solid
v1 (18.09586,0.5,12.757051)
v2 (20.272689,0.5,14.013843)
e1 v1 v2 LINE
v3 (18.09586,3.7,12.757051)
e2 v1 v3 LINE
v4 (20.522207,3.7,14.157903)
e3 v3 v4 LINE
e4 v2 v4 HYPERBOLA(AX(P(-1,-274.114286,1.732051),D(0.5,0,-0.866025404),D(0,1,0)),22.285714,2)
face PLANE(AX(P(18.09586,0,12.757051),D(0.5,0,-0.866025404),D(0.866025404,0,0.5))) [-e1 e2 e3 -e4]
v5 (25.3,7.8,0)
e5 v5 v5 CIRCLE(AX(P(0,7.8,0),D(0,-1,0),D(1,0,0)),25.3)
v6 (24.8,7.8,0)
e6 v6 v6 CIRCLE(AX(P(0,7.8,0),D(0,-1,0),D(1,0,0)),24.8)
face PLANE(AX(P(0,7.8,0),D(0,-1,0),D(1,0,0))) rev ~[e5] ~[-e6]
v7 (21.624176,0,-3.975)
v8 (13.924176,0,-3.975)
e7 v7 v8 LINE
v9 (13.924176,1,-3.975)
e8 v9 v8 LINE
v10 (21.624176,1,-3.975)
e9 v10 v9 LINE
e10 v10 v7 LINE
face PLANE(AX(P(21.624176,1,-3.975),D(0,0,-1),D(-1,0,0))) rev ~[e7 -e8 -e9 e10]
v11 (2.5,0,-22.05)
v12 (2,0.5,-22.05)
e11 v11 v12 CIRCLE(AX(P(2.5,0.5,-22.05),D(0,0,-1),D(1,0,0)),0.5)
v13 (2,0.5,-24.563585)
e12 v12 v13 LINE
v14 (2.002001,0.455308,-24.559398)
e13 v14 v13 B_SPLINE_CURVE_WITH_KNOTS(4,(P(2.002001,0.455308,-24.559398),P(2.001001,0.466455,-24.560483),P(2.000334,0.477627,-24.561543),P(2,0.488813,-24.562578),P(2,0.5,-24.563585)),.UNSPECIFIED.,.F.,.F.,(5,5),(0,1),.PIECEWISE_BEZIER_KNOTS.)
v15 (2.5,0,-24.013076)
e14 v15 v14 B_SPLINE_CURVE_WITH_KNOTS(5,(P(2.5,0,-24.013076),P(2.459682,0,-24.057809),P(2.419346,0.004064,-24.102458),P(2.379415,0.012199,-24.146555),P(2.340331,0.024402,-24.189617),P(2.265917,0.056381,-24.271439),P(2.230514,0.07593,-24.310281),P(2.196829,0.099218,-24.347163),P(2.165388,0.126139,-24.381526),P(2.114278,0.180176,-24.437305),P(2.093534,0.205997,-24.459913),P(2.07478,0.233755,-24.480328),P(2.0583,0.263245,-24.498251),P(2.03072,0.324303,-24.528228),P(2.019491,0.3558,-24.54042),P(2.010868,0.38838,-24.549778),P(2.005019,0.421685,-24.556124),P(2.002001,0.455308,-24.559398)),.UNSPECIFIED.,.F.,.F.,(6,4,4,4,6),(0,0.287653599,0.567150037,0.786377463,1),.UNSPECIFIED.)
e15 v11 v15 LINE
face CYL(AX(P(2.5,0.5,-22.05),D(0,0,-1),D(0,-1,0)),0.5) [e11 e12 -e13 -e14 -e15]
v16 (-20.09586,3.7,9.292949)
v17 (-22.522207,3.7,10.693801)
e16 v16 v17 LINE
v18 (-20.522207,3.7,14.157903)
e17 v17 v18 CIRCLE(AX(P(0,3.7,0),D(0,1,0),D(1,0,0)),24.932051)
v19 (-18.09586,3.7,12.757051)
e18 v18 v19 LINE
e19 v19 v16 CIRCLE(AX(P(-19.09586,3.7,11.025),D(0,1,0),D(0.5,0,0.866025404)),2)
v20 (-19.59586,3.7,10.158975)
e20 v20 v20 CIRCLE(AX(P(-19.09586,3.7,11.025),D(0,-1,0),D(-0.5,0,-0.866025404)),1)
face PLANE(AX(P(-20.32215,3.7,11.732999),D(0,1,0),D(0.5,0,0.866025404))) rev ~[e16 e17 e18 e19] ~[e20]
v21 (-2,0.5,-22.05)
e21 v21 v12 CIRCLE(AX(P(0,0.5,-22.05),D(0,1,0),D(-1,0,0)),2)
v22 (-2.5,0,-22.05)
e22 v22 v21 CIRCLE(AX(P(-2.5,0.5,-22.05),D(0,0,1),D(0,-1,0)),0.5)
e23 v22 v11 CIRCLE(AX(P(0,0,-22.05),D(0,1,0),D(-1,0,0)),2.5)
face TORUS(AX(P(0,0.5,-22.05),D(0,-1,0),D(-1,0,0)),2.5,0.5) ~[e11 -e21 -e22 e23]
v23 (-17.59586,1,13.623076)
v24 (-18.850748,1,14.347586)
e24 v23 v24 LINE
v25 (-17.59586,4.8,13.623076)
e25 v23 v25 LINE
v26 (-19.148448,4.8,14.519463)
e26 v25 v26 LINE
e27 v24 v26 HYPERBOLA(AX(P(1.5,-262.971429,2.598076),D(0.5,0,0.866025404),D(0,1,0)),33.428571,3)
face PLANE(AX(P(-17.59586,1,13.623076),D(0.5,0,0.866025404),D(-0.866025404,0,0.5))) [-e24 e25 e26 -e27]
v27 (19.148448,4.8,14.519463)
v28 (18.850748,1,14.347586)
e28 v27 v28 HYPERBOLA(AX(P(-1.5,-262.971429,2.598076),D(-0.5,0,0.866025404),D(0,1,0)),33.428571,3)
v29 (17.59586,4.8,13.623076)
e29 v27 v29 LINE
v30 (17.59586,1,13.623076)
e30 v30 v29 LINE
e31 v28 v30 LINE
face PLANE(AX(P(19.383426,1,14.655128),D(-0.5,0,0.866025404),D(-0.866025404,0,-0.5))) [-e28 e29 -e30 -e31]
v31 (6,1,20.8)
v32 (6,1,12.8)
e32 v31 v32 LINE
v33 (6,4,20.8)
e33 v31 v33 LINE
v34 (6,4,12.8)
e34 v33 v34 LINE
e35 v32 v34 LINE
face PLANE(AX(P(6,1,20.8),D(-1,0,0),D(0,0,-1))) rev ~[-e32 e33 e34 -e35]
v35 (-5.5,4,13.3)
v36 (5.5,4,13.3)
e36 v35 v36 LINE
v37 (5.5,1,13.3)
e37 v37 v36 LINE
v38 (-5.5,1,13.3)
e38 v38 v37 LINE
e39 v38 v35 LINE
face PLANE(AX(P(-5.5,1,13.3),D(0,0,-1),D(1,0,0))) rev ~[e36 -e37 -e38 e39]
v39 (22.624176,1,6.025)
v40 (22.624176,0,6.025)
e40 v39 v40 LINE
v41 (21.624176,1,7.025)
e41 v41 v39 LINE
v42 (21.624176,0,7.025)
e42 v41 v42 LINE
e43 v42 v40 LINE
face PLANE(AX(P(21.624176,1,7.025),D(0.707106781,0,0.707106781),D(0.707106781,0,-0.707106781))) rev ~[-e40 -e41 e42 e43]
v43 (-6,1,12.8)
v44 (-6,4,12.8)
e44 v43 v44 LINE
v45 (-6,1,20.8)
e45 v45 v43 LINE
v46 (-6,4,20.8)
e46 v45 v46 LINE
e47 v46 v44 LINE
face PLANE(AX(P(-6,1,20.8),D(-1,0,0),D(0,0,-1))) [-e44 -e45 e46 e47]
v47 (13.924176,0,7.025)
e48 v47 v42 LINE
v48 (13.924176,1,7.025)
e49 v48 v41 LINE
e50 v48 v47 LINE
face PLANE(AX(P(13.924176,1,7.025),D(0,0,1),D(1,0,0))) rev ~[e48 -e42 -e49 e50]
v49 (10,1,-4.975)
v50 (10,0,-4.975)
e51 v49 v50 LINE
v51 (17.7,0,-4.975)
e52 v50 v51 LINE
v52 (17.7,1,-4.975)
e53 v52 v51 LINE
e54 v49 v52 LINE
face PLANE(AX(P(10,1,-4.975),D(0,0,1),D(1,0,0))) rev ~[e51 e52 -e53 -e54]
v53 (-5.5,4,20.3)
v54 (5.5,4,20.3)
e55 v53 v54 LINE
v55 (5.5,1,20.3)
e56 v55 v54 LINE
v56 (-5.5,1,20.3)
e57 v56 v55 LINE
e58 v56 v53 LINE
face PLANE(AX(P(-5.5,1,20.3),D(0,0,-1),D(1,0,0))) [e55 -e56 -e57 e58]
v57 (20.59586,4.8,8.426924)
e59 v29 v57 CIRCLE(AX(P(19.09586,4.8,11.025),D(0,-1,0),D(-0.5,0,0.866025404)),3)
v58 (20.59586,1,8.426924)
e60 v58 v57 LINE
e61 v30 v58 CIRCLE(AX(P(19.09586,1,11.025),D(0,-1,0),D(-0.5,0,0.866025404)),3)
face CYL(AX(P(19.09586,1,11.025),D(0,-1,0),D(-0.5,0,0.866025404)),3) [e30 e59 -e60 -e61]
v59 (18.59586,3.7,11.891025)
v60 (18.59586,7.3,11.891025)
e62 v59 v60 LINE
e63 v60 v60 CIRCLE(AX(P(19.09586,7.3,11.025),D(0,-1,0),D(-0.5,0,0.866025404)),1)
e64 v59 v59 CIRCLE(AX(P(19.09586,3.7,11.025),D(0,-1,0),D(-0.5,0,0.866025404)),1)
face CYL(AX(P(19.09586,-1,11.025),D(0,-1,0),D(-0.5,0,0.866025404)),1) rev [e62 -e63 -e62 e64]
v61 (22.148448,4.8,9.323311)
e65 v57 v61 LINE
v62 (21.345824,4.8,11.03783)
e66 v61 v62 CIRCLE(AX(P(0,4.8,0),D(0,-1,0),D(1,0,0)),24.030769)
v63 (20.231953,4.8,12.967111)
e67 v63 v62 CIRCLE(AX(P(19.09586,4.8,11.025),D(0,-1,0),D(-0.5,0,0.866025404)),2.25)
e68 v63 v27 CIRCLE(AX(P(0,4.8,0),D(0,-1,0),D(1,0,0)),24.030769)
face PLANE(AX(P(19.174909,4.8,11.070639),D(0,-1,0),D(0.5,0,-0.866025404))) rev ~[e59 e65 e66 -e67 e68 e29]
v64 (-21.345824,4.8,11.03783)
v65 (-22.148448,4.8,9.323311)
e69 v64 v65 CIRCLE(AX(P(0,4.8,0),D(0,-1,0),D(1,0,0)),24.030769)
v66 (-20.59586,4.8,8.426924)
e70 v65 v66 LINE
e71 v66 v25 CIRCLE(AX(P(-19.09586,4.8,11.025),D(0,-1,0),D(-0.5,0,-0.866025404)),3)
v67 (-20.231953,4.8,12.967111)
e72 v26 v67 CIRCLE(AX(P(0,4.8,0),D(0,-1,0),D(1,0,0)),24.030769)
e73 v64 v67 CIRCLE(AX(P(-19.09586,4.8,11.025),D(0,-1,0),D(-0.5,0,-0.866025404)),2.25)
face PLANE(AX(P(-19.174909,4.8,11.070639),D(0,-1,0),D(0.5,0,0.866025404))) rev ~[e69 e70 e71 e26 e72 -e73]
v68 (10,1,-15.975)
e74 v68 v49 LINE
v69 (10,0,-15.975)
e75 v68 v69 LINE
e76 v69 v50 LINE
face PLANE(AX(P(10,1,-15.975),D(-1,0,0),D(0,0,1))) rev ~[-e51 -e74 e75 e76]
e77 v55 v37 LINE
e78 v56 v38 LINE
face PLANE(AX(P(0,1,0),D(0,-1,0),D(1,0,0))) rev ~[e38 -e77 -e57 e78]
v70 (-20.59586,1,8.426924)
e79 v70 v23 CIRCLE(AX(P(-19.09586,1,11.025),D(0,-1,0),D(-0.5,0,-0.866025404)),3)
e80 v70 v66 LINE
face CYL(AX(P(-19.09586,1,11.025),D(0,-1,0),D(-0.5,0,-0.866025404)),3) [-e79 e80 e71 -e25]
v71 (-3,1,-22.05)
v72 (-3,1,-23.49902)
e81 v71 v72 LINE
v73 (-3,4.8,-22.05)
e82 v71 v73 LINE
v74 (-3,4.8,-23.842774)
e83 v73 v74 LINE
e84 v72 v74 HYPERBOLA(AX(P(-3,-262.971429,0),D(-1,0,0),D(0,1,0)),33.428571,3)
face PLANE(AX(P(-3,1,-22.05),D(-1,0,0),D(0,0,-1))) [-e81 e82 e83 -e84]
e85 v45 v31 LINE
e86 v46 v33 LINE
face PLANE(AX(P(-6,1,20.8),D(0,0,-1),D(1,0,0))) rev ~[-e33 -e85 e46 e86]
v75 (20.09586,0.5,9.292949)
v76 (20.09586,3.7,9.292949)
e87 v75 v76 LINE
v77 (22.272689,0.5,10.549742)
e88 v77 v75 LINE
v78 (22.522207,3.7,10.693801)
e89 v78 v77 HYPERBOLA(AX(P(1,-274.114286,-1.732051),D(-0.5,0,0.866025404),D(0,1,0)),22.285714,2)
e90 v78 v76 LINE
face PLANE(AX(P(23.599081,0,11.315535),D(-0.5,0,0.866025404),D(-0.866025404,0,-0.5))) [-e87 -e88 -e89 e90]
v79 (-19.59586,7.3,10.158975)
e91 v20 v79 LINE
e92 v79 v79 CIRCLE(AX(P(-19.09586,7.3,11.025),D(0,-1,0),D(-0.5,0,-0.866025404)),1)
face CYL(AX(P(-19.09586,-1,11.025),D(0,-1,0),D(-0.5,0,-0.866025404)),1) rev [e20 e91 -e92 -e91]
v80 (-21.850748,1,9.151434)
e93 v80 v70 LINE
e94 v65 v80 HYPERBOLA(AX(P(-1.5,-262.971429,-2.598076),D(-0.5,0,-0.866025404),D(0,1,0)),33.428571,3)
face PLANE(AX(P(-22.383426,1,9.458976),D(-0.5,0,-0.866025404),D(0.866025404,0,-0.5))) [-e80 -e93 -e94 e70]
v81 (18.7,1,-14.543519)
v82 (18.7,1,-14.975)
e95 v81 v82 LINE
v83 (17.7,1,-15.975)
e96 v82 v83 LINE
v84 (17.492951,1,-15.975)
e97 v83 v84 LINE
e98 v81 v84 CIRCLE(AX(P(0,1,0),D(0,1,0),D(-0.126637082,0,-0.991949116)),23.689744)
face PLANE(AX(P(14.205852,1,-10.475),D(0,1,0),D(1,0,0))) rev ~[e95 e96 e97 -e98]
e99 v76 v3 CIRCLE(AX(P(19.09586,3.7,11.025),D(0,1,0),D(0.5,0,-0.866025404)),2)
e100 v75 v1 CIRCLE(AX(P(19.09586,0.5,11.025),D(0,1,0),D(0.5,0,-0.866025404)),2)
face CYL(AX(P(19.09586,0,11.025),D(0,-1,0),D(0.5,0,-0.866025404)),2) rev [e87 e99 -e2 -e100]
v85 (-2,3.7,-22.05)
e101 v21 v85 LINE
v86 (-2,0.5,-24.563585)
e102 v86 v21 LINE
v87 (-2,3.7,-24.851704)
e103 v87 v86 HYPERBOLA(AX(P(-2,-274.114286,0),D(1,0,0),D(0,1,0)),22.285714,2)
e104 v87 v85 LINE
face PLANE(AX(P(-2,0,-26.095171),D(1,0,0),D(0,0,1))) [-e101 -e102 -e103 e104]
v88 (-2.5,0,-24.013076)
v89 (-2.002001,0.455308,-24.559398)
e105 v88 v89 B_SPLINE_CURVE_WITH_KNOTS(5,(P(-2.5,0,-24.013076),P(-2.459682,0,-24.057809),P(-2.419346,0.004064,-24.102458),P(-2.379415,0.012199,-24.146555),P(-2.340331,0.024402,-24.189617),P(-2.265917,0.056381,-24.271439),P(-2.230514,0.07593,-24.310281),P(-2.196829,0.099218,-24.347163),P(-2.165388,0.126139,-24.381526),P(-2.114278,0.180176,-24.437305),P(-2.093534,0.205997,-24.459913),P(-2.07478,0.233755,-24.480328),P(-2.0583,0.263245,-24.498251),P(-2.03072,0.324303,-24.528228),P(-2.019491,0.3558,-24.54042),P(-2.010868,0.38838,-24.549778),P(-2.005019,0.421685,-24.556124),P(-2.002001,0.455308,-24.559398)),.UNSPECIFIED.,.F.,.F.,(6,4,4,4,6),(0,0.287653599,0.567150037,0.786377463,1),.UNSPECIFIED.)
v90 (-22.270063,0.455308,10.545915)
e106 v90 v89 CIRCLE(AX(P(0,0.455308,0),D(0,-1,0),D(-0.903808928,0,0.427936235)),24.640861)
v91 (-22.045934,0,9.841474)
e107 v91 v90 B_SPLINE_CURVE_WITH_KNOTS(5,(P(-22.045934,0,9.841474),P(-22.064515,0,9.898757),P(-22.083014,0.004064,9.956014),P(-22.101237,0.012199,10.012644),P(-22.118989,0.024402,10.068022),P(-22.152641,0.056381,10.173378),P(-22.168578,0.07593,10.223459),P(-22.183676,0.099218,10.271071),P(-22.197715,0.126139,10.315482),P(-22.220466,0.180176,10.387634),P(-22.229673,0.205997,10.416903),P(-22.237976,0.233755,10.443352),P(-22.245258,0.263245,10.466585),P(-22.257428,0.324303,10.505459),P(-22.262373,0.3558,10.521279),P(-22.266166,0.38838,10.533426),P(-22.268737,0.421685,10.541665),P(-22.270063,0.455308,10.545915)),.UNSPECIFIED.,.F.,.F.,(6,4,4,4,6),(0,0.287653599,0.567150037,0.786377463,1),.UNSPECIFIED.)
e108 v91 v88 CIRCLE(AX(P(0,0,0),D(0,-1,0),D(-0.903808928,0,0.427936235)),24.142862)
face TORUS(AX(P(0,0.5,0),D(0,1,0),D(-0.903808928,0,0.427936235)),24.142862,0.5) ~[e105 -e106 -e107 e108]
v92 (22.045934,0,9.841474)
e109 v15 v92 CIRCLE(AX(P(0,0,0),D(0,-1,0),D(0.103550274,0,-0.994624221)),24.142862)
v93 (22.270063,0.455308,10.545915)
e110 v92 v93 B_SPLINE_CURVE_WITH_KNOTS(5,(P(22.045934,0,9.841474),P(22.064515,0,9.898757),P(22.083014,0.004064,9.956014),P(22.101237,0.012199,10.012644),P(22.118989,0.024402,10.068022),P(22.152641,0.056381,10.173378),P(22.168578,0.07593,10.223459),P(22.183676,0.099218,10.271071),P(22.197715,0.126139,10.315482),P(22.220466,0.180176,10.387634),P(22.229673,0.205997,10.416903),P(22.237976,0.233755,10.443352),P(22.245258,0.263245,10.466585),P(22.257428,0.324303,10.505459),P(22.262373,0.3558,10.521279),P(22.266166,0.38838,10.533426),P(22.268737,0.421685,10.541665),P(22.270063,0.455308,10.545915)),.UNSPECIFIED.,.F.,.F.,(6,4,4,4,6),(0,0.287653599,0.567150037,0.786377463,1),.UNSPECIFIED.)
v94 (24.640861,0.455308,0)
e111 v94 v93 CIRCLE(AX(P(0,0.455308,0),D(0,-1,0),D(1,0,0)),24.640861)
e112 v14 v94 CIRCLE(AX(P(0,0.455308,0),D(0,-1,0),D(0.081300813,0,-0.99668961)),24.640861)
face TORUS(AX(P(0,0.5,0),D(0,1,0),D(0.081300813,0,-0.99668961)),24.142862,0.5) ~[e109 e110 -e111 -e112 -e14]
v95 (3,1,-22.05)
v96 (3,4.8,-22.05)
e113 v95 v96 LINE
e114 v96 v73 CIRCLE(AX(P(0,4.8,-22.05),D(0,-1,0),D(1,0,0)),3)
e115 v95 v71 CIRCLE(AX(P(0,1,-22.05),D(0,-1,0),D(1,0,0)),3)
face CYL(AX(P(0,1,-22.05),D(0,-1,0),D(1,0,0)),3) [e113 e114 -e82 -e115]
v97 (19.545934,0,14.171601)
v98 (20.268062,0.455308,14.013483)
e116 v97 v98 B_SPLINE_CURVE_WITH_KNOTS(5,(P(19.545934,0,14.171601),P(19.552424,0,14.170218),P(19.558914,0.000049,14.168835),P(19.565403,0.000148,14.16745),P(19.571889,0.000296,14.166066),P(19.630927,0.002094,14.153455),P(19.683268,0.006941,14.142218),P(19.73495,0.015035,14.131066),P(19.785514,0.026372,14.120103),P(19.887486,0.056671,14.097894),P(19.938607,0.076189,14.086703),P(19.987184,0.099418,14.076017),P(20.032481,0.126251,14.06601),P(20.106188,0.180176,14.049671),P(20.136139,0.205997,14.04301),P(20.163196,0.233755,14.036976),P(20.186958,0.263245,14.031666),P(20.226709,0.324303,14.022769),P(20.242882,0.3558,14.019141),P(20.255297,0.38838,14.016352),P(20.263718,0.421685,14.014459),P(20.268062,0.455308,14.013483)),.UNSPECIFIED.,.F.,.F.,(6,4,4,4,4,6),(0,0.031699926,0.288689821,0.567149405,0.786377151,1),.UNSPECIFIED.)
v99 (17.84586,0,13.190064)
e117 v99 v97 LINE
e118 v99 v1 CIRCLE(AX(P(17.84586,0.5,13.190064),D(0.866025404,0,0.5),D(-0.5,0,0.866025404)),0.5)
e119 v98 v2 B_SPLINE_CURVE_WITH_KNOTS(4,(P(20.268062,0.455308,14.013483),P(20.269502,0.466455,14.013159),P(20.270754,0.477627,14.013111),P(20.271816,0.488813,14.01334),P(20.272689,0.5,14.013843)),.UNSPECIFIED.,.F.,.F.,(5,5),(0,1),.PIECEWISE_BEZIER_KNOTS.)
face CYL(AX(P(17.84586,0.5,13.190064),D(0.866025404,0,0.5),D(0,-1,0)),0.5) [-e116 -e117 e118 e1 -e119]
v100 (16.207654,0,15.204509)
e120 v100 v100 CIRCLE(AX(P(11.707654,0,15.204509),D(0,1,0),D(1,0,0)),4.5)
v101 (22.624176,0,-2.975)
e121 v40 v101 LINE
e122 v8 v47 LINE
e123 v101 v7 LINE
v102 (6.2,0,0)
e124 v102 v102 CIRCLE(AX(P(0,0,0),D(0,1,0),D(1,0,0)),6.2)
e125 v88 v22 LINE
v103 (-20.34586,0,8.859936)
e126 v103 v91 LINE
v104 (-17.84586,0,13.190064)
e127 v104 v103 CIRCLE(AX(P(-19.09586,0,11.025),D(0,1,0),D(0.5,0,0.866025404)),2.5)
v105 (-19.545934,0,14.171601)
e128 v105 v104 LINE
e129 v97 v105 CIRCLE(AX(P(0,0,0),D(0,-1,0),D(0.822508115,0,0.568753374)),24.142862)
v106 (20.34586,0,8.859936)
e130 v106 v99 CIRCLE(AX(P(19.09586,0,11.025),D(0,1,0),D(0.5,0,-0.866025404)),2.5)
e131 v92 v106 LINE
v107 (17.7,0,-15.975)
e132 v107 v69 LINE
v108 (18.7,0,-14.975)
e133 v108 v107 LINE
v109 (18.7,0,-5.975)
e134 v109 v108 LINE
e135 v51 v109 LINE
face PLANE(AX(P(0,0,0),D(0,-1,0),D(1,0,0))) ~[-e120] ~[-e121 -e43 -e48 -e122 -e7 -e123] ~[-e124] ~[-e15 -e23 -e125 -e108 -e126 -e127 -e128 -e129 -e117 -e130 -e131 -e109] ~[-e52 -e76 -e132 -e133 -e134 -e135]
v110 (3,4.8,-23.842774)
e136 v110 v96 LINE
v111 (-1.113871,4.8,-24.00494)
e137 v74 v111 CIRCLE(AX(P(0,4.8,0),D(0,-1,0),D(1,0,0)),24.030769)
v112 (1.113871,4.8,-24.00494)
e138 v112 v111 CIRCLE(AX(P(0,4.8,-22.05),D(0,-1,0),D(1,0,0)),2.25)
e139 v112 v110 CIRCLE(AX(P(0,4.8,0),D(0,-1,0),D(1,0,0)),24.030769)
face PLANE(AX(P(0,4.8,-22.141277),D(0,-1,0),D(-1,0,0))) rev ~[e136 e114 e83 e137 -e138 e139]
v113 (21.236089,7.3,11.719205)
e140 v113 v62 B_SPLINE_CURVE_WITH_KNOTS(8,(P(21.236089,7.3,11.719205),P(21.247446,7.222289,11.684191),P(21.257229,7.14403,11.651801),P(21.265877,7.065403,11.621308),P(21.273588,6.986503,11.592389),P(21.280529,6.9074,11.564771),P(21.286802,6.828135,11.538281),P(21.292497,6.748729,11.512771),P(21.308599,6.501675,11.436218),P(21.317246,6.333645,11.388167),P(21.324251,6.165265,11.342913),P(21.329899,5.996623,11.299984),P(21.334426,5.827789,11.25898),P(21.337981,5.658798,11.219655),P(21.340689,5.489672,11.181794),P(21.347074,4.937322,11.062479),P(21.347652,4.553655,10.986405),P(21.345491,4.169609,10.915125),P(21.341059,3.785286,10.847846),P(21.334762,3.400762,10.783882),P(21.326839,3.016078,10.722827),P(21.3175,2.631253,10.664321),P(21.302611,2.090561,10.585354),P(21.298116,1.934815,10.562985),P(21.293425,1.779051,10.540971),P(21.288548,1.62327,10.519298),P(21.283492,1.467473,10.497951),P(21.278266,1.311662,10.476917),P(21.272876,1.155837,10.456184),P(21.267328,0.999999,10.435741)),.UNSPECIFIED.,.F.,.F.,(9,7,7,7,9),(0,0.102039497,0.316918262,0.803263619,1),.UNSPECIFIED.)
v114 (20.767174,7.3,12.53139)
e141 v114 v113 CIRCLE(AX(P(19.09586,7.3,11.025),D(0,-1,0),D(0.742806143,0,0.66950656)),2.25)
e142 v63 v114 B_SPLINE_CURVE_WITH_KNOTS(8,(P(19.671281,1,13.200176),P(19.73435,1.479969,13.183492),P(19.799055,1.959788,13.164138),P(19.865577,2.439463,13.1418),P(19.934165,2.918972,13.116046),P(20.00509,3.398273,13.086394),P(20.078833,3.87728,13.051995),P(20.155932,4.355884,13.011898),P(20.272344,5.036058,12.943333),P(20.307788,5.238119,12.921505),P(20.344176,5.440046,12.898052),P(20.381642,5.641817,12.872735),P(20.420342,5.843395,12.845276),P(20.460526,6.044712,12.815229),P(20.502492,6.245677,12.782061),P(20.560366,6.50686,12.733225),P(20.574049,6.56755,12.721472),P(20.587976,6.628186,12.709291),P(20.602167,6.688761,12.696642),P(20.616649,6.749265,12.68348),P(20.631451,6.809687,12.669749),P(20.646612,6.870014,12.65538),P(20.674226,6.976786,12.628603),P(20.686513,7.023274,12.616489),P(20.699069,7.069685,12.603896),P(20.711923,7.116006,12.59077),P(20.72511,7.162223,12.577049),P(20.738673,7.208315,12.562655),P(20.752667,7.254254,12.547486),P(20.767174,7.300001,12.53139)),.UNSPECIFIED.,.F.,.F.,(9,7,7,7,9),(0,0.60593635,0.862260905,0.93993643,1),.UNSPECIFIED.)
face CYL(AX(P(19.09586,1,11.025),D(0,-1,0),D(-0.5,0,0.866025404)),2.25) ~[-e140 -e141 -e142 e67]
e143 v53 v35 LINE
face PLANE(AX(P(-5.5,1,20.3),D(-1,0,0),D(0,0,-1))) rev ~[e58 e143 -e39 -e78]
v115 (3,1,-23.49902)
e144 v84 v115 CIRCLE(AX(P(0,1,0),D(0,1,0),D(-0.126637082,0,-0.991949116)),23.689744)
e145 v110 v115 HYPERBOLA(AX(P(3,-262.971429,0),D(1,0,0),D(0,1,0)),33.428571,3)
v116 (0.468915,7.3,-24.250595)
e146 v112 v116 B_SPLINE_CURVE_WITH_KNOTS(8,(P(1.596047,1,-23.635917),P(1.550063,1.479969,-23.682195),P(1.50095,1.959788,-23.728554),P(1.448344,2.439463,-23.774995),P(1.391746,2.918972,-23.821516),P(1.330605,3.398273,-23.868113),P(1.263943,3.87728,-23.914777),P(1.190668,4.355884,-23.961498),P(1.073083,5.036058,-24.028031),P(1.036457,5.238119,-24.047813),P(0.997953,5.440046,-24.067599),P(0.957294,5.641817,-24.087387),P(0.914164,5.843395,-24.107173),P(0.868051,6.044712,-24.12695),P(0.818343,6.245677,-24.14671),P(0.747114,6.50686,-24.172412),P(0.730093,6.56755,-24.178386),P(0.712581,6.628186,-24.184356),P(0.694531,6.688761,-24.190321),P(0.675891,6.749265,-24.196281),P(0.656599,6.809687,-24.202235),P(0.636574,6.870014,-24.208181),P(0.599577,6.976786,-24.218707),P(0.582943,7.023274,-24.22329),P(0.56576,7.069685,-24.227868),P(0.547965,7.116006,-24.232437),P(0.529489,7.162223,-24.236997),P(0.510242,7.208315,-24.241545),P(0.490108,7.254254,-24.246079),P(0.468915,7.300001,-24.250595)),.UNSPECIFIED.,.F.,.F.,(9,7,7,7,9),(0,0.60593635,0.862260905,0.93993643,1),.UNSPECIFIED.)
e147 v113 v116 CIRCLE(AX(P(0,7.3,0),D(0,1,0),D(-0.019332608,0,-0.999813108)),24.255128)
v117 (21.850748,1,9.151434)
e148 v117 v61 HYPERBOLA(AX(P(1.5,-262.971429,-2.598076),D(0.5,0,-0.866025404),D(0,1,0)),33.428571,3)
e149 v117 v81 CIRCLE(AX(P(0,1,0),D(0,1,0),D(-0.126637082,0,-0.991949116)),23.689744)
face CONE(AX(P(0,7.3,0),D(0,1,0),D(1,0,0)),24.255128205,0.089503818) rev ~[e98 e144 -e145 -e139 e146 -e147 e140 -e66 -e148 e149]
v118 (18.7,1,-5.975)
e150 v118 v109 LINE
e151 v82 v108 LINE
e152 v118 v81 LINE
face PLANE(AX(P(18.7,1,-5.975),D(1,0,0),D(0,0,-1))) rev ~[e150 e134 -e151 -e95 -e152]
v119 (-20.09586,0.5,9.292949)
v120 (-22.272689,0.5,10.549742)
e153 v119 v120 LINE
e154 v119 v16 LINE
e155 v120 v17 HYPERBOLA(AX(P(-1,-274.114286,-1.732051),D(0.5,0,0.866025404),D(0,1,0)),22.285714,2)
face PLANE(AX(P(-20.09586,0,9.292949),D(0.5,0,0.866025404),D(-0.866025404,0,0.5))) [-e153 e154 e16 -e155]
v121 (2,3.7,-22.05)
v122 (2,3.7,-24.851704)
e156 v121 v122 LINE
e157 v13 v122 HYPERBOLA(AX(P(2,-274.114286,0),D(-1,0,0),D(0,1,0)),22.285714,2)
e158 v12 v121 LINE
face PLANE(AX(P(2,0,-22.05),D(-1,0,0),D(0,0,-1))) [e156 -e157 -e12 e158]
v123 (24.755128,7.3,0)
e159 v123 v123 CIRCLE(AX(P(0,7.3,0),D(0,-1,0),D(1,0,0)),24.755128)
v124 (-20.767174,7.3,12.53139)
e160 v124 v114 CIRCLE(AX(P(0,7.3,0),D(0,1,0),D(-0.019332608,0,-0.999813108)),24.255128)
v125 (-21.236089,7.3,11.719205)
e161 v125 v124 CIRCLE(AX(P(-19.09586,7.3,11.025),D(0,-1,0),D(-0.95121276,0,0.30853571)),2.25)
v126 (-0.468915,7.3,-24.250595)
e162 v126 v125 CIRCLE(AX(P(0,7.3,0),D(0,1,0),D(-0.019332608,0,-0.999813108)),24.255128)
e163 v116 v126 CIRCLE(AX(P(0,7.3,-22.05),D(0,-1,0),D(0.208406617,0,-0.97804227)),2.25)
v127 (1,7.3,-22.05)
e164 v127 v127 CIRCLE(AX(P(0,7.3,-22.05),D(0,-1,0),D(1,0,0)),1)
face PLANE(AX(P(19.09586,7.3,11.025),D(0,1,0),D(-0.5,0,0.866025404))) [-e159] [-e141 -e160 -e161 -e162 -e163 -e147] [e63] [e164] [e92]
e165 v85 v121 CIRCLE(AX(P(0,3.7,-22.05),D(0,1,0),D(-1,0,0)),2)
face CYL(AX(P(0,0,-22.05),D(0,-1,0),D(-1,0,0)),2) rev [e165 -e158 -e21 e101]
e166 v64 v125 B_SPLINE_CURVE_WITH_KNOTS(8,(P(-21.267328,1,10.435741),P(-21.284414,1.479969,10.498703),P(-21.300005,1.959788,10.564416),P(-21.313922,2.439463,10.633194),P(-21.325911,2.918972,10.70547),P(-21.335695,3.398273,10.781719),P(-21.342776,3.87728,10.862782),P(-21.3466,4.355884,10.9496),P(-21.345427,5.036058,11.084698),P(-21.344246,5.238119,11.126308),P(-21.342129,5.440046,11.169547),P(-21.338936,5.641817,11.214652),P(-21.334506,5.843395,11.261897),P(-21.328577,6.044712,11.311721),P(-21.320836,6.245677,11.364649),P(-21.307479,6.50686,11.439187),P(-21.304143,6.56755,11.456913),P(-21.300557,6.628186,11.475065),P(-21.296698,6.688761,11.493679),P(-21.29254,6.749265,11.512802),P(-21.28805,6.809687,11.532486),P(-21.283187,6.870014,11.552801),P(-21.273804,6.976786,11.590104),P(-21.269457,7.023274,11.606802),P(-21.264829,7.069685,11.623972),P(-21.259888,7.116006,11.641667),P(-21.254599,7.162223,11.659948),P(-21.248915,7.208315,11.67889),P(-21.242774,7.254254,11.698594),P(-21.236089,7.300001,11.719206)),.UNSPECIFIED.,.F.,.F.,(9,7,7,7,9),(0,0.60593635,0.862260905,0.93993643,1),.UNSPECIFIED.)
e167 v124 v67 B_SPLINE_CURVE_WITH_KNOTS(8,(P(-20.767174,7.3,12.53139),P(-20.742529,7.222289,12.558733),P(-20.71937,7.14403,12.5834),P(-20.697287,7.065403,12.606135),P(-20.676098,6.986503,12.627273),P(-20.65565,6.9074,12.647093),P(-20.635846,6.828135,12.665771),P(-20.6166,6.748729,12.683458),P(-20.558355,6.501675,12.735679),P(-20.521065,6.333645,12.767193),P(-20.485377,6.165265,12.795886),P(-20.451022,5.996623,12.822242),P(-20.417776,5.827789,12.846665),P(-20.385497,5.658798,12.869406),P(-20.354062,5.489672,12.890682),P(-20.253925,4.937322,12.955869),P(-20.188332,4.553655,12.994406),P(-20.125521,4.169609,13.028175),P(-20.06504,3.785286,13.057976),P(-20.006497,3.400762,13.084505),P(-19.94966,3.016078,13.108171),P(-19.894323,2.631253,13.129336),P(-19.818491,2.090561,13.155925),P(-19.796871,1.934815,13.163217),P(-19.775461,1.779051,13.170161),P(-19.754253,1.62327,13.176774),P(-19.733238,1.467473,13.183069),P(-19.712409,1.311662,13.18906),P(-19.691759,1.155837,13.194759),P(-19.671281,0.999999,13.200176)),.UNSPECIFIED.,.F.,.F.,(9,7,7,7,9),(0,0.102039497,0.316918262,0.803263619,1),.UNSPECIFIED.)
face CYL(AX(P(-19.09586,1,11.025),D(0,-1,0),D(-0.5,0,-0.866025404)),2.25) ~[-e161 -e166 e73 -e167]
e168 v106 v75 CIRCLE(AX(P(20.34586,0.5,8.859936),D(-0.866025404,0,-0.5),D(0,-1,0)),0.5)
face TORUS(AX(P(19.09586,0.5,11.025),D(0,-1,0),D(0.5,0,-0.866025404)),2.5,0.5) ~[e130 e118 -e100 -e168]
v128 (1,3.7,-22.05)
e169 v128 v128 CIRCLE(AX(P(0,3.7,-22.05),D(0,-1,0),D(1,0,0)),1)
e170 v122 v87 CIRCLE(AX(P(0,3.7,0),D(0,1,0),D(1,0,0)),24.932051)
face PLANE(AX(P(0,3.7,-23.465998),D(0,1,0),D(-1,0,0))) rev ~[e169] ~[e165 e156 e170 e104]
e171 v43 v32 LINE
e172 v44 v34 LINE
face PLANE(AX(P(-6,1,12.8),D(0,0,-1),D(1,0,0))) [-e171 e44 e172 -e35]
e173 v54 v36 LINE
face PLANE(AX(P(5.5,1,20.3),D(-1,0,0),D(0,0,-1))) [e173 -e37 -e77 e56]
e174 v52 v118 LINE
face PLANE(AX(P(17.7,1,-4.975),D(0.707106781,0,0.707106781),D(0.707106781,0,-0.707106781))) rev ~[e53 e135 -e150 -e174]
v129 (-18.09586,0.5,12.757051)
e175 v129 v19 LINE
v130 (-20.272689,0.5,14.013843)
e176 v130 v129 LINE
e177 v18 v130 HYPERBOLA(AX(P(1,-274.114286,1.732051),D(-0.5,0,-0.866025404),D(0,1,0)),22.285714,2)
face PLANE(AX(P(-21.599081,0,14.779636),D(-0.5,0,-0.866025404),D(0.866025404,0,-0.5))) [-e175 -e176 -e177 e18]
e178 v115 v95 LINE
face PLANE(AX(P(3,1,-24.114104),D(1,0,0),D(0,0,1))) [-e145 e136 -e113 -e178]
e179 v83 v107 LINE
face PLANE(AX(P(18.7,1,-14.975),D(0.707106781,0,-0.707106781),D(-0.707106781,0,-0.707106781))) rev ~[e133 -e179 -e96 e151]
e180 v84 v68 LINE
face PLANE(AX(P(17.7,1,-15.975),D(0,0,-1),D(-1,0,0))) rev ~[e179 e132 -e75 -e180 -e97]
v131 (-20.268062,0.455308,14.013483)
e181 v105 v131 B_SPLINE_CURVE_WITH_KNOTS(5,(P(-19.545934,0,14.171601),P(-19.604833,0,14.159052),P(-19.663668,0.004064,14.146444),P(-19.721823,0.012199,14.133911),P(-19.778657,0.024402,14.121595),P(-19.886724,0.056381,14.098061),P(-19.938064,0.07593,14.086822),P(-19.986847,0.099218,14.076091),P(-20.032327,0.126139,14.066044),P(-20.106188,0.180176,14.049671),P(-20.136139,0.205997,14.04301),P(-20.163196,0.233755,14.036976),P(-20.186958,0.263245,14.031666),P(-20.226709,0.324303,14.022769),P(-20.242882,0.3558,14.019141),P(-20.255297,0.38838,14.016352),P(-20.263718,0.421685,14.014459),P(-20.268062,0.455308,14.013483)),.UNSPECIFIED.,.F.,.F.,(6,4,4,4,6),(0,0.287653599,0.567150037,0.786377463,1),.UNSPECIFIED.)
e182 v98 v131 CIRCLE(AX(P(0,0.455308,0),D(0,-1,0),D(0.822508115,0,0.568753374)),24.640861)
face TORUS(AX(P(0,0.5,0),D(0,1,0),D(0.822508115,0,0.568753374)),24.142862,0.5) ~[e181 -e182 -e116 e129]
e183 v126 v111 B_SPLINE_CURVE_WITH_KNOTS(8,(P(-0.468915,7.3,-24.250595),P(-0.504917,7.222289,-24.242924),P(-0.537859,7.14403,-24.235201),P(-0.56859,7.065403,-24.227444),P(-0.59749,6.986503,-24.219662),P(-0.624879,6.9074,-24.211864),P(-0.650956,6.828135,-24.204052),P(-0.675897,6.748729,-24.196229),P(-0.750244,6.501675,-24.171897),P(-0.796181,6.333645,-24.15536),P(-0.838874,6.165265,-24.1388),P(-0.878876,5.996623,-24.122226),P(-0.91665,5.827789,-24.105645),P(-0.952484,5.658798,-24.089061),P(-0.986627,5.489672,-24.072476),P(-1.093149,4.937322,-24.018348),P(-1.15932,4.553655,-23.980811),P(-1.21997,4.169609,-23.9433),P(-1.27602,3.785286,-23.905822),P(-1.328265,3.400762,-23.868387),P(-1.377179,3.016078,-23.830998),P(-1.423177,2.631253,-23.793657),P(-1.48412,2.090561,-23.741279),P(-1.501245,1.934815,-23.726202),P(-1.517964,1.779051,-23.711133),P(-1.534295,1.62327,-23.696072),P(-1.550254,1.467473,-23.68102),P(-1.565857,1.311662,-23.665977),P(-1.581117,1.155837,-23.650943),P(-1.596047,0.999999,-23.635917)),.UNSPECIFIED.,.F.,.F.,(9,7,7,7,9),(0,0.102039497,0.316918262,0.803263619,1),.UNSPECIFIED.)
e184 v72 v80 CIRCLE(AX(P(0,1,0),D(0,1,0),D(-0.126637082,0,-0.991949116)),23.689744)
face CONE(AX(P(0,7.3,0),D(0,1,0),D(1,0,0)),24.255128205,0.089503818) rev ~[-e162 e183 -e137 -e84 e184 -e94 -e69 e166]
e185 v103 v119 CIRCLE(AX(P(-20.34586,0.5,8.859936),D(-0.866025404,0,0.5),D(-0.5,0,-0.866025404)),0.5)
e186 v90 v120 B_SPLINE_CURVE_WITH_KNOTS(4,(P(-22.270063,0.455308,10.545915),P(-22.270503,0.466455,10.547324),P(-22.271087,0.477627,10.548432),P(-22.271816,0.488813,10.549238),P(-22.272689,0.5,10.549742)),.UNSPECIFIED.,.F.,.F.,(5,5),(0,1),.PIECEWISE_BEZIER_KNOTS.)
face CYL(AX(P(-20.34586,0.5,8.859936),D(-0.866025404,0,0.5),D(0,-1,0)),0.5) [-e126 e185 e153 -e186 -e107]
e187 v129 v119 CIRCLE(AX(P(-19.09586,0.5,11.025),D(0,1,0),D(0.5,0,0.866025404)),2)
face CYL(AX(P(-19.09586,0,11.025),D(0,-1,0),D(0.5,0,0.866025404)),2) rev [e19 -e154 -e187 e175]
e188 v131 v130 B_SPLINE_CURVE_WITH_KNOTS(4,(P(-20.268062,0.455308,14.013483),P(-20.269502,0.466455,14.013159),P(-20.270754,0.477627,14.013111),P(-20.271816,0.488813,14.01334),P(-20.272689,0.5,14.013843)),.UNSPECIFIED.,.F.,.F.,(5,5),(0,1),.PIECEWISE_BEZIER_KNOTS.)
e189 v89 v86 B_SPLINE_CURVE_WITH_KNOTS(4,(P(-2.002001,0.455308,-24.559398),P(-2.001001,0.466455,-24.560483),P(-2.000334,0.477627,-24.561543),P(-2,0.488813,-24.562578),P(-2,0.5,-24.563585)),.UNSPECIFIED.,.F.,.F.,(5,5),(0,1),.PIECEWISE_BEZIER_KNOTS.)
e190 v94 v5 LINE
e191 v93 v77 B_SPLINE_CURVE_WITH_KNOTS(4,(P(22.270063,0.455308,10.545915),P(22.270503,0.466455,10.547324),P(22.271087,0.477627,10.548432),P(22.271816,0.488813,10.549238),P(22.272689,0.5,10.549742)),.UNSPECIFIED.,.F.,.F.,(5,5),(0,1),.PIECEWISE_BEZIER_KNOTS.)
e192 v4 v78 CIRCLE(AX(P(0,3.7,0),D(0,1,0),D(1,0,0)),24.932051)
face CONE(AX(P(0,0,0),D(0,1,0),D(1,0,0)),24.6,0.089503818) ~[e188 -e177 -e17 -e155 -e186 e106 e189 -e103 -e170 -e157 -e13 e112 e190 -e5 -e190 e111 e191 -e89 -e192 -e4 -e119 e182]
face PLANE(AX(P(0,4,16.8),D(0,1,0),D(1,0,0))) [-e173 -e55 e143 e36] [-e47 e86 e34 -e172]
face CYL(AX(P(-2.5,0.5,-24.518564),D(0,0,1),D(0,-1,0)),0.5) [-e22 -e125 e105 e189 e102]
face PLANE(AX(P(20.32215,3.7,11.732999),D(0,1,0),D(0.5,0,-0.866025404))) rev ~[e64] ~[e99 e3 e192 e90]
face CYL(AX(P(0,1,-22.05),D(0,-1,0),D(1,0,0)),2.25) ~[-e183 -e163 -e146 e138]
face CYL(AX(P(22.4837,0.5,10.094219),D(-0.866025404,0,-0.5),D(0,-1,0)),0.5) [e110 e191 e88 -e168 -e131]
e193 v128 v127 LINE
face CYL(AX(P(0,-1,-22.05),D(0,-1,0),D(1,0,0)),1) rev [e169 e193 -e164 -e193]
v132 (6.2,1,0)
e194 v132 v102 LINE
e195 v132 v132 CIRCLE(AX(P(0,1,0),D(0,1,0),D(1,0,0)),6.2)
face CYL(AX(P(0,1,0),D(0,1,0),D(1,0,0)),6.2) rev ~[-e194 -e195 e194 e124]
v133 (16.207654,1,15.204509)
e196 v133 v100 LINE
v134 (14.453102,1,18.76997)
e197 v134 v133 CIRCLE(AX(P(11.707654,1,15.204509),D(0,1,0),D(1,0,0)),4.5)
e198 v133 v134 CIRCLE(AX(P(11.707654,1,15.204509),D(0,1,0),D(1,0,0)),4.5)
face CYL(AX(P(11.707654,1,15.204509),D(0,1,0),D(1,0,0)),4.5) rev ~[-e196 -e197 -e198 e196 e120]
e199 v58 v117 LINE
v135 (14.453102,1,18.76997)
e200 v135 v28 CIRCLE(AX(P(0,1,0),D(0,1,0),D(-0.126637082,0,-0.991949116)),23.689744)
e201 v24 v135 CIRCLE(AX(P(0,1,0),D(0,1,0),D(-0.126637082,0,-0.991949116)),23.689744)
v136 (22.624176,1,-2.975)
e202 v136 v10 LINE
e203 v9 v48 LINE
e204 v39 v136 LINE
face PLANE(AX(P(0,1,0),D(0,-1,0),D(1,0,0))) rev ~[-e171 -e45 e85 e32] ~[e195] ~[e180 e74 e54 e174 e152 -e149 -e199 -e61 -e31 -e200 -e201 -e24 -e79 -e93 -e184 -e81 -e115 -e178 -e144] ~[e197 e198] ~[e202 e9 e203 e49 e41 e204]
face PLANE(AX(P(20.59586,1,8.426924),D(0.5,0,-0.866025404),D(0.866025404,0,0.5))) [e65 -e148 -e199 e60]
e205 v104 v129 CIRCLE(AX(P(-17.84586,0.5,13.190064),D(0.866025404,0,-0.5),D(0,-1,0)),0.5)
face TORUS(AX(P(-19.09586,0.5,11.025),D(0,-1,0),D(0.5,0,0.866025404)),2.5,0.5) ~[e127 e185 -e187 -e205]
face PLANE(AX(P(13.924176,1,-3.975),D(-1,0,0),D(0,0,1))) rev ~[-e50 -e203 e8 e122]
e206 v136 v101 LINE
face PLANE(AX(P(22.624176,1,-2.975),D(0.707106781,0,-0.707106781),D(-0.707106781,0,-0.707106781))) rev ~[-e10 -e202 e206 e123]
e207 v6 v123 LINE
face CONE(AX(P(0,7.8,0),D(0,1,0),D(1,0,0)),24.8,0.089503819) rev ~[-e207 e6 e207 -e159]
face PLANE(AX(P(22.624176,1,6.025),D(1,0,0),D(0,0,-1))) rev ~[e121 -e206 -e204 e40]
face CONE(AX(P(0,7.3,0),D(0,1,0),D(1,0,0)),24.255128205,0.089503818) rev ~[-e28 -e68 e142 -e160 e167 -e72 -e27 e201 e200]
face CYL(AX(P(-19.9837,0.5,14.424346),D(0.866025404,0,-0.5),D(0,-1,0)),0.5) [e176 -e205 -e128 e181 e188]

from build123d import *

# Parameters (mm, degrees)
SKETCH_8_R               = 2.25
EXTRUDE_23_DEPTH         = 6.3
EXTRUDE_24_DEPTH         = 3.8
CUT_EXTRUDE_START        = -2
SKETCH_8_5_R             = 1
CUT_EXTRUDE_2_DEPTH      = 9.8
PATTERN_CIRCULAR_1_COUNT = 3
CUT_EXTRUDE_3_DEPTH      = 3.7
PATTERN_CIRCULAR_2_COUNT = 3
CUT_EXTRUDE_6_DEPTH      = 1
SKETCH_12_W              = 12
SKETCH_12_H              = 8
SKETCH_12_W_2            = 11
SKETCH_12_H_2            = 7
EXTRUDE_1_DEPTH          = 3
SKETCH_14_R              = 6.2
SKETCH_14_R_2            = 4.5
CUT_EXTRUDE_7_DEPTH      = 1
FILLET_1_R               = 0.5


with BuildPart() as part:
    # 草图7 → 旋转1 (revolve)
    with BuildSketch(Plane.XY):
        Polygon((0, 0), (24.6, 0), (25.3, 7.8), (24.8, 7.8), (24.755128205, 7.3), (24.255128205, 7.3), (23.68974359, 1), (0, 1), align=None)
    revolve(axis=Axis((0, 1, 0), (0, -1, 0)))

    # 草图8 → 凸台-拉伸23 (add)
    with BuildSketch(Plane(origin=(0, 1, 0), x_dir=(1, 0, 0), z_dir=(0, 1, 0))):
        with Locations((0, 22.05)):
            Circle(SKETCH_8_R)
    extrude_23 = extrude(amount=EXTRUDE_23_DEPTH)

    # 草图8<4> → 凸台-拉伸24 (add)
    with BuildSketch(Plane(origin=(0, 1, 0), x_dir=(1, 0, 0), z_dir=(0, 1, 0))):
        with BuildLine():
            Line((-3, 22.05), (-3, 24.114103757))
            ThreePointArc((-3, 24.114103757), (0, 24.3), (3, 24.114103757))
            Line((3, 24.114103757), (3, 22.05))
            ThreePointArc((3, 22.05), (0, 19.05), (-3, 22.05))
        make_face()
    extrude_24 = extrude(amount=EXTRUDE_24_DEPTH)

    # 草图8<5> → 切除-拉伸2 (cut)
    with BuildSketch(Plane(origin=(0, 1, 0), x_dir=(1, 0, 0), z_dir=(0, 1, 0)).offset(CUT_EXTRUDE_START)):
        with Locations((0, 22.05)):
            Circle(SKETCH_8_5_R)
    cut_extrude_2 = extrude(amount=CUT_EXTRUDE_2_DEPTH, mode=Mode.SUBTRACT)

    # 阵列(圆周)1: 凸台-拉伸23, 凸台-拉伸24, 切除-拉伸2 ×3 about axis
    pattern_circular_1_axis = Axis((0, 0, 0), (0, 1, 0))
    for i in range(1, PATTERN_CIRCULAR_1_COUNT):
        add(extrude_23.rotate(pattern_circular_1_axis, i * 360 / PATTERN_CIRCULAR_1_COUNT))
        add(extrude_24.rotate(pattern_circular_1_axis, i * 360 / PATTERN_CIRCULAR_1_COUNT))
        add(cut_extrude_2.rotate(pattern_circular_1_axis, i * 360 / PATTERN_CIRCULAR_1_COUNT), mode=Mode.SUBTRACT)

    # 草图9 → 切除-拉伸3 (cut)
    with BuildSketch(Plane.XZ):
        with BuildLine():
            Line((2, -22.05), (2, -26.095171051))
            Line((2, -26.095171051), (-2, -26.095171051))
            Line((-2, -26.095171051), (-2, -22.05))
            ThreePointArc((-2, -22.05), (0, -20.05), (2, -22.05))
        make_face()
    cut_extrude_3 = extrude(amount=-CUT_EXTRUDE_3_DEPTH, mode=Mode.SUBTRACT)

    # 阵列(圆周)2: 切除-拉伸3 ×3 about axis
    pattern_circular_2_axis = Axis((0, 0, 0), (0, 1, 0))
    for i in range(1, PATTERN_CIRCULAR_2_COUNT):
        add(cut_extrude_3.rotate(pattern_circular_2_axis, i * 360 / PATTERN_CIRCULAR_2_COUNT), mode=Mode.SUBTRACT)

    # 草图11 → 切除-拉伸6 (cut)
    with BuildSketch(Plane(origin=(0, 1, 0), x_dir=(1, 0, 0), z_dir=(0, 1, 0))):
        Polygon((10, 15.975), (10, 4.975), (17.7, 4.975), (18.7, 5.975), (18.7, 14.975), (17.7, 15.975), align=None)
        Polygon((13.924175705, 3.975), (13.924175705, -7.025), (21.624175705, -7.025), (22.624175705, -6.025), (22.624175705, 2.975), (21.624175705, 3.975), align=None)
    extrude(amount=-CUT_EXTRUDE_6_DEPTH, mode=Mode.SUBTRACT)

    # 草图12 → 拉伸-薄壁1 (add)
    with BuildSketch(Plane(origin=(0, 1, 0), x_dir=(1, 0, 0), z_dir=(0, 1, 0))):
        with Locations((0, -16.8)):
            Rectangle(SKETCH_12_W, SKETCH_12_H)
        with Locations((0, -16.8)):
            Rectangle(SKETCH_12_W_2, SKETCH_12_H_2, mode=Mode.SUBTRACT)
    extrude(amount=EXTRUDE_1_DEPTH)

    # 草图14 → 切除-拉伸7 (cut)
    with BuildSketch(Plane(origin=(0, 1, 0), x_dir=(1, 0, 0), z_dir=(0, 1, 0))):
        Circle(SKETCH_14_R)
        with Locations((11.70765428, -15.20450888)):
            Circle(SKETCH_14_R_2)
    extrude(amount=-CUT_EXTRUDE_7_DEPTH, mode=Mode.SUBTRACT)

    # 圆角1
    fillet_1_edges = [part.edges().sort_by_distance(p)[0] for p in [
        (-21.304224933, 0, -12.3),
        (-2, 0, -23.284282198),
        (2, 0, -23.284282198),
        (0, 0, -20.05),
        (0, 0, 24.6),
        (18.088117647, 0, -16.67273223),
        (-19.164779892, 0, 13.374191906),
        (-21.164779892, 0, 9.910090291),
        (-17.363809346, 0, 10.025),
        (21.164779892, 0, 9.910090291),
        (19.164779892, 0, 13.374191906),
        (17.363809346, 0, 10.025),
    ]]
    fillet(fillet_1_edges, radius=FILLET_1_R)


solid = part.part
